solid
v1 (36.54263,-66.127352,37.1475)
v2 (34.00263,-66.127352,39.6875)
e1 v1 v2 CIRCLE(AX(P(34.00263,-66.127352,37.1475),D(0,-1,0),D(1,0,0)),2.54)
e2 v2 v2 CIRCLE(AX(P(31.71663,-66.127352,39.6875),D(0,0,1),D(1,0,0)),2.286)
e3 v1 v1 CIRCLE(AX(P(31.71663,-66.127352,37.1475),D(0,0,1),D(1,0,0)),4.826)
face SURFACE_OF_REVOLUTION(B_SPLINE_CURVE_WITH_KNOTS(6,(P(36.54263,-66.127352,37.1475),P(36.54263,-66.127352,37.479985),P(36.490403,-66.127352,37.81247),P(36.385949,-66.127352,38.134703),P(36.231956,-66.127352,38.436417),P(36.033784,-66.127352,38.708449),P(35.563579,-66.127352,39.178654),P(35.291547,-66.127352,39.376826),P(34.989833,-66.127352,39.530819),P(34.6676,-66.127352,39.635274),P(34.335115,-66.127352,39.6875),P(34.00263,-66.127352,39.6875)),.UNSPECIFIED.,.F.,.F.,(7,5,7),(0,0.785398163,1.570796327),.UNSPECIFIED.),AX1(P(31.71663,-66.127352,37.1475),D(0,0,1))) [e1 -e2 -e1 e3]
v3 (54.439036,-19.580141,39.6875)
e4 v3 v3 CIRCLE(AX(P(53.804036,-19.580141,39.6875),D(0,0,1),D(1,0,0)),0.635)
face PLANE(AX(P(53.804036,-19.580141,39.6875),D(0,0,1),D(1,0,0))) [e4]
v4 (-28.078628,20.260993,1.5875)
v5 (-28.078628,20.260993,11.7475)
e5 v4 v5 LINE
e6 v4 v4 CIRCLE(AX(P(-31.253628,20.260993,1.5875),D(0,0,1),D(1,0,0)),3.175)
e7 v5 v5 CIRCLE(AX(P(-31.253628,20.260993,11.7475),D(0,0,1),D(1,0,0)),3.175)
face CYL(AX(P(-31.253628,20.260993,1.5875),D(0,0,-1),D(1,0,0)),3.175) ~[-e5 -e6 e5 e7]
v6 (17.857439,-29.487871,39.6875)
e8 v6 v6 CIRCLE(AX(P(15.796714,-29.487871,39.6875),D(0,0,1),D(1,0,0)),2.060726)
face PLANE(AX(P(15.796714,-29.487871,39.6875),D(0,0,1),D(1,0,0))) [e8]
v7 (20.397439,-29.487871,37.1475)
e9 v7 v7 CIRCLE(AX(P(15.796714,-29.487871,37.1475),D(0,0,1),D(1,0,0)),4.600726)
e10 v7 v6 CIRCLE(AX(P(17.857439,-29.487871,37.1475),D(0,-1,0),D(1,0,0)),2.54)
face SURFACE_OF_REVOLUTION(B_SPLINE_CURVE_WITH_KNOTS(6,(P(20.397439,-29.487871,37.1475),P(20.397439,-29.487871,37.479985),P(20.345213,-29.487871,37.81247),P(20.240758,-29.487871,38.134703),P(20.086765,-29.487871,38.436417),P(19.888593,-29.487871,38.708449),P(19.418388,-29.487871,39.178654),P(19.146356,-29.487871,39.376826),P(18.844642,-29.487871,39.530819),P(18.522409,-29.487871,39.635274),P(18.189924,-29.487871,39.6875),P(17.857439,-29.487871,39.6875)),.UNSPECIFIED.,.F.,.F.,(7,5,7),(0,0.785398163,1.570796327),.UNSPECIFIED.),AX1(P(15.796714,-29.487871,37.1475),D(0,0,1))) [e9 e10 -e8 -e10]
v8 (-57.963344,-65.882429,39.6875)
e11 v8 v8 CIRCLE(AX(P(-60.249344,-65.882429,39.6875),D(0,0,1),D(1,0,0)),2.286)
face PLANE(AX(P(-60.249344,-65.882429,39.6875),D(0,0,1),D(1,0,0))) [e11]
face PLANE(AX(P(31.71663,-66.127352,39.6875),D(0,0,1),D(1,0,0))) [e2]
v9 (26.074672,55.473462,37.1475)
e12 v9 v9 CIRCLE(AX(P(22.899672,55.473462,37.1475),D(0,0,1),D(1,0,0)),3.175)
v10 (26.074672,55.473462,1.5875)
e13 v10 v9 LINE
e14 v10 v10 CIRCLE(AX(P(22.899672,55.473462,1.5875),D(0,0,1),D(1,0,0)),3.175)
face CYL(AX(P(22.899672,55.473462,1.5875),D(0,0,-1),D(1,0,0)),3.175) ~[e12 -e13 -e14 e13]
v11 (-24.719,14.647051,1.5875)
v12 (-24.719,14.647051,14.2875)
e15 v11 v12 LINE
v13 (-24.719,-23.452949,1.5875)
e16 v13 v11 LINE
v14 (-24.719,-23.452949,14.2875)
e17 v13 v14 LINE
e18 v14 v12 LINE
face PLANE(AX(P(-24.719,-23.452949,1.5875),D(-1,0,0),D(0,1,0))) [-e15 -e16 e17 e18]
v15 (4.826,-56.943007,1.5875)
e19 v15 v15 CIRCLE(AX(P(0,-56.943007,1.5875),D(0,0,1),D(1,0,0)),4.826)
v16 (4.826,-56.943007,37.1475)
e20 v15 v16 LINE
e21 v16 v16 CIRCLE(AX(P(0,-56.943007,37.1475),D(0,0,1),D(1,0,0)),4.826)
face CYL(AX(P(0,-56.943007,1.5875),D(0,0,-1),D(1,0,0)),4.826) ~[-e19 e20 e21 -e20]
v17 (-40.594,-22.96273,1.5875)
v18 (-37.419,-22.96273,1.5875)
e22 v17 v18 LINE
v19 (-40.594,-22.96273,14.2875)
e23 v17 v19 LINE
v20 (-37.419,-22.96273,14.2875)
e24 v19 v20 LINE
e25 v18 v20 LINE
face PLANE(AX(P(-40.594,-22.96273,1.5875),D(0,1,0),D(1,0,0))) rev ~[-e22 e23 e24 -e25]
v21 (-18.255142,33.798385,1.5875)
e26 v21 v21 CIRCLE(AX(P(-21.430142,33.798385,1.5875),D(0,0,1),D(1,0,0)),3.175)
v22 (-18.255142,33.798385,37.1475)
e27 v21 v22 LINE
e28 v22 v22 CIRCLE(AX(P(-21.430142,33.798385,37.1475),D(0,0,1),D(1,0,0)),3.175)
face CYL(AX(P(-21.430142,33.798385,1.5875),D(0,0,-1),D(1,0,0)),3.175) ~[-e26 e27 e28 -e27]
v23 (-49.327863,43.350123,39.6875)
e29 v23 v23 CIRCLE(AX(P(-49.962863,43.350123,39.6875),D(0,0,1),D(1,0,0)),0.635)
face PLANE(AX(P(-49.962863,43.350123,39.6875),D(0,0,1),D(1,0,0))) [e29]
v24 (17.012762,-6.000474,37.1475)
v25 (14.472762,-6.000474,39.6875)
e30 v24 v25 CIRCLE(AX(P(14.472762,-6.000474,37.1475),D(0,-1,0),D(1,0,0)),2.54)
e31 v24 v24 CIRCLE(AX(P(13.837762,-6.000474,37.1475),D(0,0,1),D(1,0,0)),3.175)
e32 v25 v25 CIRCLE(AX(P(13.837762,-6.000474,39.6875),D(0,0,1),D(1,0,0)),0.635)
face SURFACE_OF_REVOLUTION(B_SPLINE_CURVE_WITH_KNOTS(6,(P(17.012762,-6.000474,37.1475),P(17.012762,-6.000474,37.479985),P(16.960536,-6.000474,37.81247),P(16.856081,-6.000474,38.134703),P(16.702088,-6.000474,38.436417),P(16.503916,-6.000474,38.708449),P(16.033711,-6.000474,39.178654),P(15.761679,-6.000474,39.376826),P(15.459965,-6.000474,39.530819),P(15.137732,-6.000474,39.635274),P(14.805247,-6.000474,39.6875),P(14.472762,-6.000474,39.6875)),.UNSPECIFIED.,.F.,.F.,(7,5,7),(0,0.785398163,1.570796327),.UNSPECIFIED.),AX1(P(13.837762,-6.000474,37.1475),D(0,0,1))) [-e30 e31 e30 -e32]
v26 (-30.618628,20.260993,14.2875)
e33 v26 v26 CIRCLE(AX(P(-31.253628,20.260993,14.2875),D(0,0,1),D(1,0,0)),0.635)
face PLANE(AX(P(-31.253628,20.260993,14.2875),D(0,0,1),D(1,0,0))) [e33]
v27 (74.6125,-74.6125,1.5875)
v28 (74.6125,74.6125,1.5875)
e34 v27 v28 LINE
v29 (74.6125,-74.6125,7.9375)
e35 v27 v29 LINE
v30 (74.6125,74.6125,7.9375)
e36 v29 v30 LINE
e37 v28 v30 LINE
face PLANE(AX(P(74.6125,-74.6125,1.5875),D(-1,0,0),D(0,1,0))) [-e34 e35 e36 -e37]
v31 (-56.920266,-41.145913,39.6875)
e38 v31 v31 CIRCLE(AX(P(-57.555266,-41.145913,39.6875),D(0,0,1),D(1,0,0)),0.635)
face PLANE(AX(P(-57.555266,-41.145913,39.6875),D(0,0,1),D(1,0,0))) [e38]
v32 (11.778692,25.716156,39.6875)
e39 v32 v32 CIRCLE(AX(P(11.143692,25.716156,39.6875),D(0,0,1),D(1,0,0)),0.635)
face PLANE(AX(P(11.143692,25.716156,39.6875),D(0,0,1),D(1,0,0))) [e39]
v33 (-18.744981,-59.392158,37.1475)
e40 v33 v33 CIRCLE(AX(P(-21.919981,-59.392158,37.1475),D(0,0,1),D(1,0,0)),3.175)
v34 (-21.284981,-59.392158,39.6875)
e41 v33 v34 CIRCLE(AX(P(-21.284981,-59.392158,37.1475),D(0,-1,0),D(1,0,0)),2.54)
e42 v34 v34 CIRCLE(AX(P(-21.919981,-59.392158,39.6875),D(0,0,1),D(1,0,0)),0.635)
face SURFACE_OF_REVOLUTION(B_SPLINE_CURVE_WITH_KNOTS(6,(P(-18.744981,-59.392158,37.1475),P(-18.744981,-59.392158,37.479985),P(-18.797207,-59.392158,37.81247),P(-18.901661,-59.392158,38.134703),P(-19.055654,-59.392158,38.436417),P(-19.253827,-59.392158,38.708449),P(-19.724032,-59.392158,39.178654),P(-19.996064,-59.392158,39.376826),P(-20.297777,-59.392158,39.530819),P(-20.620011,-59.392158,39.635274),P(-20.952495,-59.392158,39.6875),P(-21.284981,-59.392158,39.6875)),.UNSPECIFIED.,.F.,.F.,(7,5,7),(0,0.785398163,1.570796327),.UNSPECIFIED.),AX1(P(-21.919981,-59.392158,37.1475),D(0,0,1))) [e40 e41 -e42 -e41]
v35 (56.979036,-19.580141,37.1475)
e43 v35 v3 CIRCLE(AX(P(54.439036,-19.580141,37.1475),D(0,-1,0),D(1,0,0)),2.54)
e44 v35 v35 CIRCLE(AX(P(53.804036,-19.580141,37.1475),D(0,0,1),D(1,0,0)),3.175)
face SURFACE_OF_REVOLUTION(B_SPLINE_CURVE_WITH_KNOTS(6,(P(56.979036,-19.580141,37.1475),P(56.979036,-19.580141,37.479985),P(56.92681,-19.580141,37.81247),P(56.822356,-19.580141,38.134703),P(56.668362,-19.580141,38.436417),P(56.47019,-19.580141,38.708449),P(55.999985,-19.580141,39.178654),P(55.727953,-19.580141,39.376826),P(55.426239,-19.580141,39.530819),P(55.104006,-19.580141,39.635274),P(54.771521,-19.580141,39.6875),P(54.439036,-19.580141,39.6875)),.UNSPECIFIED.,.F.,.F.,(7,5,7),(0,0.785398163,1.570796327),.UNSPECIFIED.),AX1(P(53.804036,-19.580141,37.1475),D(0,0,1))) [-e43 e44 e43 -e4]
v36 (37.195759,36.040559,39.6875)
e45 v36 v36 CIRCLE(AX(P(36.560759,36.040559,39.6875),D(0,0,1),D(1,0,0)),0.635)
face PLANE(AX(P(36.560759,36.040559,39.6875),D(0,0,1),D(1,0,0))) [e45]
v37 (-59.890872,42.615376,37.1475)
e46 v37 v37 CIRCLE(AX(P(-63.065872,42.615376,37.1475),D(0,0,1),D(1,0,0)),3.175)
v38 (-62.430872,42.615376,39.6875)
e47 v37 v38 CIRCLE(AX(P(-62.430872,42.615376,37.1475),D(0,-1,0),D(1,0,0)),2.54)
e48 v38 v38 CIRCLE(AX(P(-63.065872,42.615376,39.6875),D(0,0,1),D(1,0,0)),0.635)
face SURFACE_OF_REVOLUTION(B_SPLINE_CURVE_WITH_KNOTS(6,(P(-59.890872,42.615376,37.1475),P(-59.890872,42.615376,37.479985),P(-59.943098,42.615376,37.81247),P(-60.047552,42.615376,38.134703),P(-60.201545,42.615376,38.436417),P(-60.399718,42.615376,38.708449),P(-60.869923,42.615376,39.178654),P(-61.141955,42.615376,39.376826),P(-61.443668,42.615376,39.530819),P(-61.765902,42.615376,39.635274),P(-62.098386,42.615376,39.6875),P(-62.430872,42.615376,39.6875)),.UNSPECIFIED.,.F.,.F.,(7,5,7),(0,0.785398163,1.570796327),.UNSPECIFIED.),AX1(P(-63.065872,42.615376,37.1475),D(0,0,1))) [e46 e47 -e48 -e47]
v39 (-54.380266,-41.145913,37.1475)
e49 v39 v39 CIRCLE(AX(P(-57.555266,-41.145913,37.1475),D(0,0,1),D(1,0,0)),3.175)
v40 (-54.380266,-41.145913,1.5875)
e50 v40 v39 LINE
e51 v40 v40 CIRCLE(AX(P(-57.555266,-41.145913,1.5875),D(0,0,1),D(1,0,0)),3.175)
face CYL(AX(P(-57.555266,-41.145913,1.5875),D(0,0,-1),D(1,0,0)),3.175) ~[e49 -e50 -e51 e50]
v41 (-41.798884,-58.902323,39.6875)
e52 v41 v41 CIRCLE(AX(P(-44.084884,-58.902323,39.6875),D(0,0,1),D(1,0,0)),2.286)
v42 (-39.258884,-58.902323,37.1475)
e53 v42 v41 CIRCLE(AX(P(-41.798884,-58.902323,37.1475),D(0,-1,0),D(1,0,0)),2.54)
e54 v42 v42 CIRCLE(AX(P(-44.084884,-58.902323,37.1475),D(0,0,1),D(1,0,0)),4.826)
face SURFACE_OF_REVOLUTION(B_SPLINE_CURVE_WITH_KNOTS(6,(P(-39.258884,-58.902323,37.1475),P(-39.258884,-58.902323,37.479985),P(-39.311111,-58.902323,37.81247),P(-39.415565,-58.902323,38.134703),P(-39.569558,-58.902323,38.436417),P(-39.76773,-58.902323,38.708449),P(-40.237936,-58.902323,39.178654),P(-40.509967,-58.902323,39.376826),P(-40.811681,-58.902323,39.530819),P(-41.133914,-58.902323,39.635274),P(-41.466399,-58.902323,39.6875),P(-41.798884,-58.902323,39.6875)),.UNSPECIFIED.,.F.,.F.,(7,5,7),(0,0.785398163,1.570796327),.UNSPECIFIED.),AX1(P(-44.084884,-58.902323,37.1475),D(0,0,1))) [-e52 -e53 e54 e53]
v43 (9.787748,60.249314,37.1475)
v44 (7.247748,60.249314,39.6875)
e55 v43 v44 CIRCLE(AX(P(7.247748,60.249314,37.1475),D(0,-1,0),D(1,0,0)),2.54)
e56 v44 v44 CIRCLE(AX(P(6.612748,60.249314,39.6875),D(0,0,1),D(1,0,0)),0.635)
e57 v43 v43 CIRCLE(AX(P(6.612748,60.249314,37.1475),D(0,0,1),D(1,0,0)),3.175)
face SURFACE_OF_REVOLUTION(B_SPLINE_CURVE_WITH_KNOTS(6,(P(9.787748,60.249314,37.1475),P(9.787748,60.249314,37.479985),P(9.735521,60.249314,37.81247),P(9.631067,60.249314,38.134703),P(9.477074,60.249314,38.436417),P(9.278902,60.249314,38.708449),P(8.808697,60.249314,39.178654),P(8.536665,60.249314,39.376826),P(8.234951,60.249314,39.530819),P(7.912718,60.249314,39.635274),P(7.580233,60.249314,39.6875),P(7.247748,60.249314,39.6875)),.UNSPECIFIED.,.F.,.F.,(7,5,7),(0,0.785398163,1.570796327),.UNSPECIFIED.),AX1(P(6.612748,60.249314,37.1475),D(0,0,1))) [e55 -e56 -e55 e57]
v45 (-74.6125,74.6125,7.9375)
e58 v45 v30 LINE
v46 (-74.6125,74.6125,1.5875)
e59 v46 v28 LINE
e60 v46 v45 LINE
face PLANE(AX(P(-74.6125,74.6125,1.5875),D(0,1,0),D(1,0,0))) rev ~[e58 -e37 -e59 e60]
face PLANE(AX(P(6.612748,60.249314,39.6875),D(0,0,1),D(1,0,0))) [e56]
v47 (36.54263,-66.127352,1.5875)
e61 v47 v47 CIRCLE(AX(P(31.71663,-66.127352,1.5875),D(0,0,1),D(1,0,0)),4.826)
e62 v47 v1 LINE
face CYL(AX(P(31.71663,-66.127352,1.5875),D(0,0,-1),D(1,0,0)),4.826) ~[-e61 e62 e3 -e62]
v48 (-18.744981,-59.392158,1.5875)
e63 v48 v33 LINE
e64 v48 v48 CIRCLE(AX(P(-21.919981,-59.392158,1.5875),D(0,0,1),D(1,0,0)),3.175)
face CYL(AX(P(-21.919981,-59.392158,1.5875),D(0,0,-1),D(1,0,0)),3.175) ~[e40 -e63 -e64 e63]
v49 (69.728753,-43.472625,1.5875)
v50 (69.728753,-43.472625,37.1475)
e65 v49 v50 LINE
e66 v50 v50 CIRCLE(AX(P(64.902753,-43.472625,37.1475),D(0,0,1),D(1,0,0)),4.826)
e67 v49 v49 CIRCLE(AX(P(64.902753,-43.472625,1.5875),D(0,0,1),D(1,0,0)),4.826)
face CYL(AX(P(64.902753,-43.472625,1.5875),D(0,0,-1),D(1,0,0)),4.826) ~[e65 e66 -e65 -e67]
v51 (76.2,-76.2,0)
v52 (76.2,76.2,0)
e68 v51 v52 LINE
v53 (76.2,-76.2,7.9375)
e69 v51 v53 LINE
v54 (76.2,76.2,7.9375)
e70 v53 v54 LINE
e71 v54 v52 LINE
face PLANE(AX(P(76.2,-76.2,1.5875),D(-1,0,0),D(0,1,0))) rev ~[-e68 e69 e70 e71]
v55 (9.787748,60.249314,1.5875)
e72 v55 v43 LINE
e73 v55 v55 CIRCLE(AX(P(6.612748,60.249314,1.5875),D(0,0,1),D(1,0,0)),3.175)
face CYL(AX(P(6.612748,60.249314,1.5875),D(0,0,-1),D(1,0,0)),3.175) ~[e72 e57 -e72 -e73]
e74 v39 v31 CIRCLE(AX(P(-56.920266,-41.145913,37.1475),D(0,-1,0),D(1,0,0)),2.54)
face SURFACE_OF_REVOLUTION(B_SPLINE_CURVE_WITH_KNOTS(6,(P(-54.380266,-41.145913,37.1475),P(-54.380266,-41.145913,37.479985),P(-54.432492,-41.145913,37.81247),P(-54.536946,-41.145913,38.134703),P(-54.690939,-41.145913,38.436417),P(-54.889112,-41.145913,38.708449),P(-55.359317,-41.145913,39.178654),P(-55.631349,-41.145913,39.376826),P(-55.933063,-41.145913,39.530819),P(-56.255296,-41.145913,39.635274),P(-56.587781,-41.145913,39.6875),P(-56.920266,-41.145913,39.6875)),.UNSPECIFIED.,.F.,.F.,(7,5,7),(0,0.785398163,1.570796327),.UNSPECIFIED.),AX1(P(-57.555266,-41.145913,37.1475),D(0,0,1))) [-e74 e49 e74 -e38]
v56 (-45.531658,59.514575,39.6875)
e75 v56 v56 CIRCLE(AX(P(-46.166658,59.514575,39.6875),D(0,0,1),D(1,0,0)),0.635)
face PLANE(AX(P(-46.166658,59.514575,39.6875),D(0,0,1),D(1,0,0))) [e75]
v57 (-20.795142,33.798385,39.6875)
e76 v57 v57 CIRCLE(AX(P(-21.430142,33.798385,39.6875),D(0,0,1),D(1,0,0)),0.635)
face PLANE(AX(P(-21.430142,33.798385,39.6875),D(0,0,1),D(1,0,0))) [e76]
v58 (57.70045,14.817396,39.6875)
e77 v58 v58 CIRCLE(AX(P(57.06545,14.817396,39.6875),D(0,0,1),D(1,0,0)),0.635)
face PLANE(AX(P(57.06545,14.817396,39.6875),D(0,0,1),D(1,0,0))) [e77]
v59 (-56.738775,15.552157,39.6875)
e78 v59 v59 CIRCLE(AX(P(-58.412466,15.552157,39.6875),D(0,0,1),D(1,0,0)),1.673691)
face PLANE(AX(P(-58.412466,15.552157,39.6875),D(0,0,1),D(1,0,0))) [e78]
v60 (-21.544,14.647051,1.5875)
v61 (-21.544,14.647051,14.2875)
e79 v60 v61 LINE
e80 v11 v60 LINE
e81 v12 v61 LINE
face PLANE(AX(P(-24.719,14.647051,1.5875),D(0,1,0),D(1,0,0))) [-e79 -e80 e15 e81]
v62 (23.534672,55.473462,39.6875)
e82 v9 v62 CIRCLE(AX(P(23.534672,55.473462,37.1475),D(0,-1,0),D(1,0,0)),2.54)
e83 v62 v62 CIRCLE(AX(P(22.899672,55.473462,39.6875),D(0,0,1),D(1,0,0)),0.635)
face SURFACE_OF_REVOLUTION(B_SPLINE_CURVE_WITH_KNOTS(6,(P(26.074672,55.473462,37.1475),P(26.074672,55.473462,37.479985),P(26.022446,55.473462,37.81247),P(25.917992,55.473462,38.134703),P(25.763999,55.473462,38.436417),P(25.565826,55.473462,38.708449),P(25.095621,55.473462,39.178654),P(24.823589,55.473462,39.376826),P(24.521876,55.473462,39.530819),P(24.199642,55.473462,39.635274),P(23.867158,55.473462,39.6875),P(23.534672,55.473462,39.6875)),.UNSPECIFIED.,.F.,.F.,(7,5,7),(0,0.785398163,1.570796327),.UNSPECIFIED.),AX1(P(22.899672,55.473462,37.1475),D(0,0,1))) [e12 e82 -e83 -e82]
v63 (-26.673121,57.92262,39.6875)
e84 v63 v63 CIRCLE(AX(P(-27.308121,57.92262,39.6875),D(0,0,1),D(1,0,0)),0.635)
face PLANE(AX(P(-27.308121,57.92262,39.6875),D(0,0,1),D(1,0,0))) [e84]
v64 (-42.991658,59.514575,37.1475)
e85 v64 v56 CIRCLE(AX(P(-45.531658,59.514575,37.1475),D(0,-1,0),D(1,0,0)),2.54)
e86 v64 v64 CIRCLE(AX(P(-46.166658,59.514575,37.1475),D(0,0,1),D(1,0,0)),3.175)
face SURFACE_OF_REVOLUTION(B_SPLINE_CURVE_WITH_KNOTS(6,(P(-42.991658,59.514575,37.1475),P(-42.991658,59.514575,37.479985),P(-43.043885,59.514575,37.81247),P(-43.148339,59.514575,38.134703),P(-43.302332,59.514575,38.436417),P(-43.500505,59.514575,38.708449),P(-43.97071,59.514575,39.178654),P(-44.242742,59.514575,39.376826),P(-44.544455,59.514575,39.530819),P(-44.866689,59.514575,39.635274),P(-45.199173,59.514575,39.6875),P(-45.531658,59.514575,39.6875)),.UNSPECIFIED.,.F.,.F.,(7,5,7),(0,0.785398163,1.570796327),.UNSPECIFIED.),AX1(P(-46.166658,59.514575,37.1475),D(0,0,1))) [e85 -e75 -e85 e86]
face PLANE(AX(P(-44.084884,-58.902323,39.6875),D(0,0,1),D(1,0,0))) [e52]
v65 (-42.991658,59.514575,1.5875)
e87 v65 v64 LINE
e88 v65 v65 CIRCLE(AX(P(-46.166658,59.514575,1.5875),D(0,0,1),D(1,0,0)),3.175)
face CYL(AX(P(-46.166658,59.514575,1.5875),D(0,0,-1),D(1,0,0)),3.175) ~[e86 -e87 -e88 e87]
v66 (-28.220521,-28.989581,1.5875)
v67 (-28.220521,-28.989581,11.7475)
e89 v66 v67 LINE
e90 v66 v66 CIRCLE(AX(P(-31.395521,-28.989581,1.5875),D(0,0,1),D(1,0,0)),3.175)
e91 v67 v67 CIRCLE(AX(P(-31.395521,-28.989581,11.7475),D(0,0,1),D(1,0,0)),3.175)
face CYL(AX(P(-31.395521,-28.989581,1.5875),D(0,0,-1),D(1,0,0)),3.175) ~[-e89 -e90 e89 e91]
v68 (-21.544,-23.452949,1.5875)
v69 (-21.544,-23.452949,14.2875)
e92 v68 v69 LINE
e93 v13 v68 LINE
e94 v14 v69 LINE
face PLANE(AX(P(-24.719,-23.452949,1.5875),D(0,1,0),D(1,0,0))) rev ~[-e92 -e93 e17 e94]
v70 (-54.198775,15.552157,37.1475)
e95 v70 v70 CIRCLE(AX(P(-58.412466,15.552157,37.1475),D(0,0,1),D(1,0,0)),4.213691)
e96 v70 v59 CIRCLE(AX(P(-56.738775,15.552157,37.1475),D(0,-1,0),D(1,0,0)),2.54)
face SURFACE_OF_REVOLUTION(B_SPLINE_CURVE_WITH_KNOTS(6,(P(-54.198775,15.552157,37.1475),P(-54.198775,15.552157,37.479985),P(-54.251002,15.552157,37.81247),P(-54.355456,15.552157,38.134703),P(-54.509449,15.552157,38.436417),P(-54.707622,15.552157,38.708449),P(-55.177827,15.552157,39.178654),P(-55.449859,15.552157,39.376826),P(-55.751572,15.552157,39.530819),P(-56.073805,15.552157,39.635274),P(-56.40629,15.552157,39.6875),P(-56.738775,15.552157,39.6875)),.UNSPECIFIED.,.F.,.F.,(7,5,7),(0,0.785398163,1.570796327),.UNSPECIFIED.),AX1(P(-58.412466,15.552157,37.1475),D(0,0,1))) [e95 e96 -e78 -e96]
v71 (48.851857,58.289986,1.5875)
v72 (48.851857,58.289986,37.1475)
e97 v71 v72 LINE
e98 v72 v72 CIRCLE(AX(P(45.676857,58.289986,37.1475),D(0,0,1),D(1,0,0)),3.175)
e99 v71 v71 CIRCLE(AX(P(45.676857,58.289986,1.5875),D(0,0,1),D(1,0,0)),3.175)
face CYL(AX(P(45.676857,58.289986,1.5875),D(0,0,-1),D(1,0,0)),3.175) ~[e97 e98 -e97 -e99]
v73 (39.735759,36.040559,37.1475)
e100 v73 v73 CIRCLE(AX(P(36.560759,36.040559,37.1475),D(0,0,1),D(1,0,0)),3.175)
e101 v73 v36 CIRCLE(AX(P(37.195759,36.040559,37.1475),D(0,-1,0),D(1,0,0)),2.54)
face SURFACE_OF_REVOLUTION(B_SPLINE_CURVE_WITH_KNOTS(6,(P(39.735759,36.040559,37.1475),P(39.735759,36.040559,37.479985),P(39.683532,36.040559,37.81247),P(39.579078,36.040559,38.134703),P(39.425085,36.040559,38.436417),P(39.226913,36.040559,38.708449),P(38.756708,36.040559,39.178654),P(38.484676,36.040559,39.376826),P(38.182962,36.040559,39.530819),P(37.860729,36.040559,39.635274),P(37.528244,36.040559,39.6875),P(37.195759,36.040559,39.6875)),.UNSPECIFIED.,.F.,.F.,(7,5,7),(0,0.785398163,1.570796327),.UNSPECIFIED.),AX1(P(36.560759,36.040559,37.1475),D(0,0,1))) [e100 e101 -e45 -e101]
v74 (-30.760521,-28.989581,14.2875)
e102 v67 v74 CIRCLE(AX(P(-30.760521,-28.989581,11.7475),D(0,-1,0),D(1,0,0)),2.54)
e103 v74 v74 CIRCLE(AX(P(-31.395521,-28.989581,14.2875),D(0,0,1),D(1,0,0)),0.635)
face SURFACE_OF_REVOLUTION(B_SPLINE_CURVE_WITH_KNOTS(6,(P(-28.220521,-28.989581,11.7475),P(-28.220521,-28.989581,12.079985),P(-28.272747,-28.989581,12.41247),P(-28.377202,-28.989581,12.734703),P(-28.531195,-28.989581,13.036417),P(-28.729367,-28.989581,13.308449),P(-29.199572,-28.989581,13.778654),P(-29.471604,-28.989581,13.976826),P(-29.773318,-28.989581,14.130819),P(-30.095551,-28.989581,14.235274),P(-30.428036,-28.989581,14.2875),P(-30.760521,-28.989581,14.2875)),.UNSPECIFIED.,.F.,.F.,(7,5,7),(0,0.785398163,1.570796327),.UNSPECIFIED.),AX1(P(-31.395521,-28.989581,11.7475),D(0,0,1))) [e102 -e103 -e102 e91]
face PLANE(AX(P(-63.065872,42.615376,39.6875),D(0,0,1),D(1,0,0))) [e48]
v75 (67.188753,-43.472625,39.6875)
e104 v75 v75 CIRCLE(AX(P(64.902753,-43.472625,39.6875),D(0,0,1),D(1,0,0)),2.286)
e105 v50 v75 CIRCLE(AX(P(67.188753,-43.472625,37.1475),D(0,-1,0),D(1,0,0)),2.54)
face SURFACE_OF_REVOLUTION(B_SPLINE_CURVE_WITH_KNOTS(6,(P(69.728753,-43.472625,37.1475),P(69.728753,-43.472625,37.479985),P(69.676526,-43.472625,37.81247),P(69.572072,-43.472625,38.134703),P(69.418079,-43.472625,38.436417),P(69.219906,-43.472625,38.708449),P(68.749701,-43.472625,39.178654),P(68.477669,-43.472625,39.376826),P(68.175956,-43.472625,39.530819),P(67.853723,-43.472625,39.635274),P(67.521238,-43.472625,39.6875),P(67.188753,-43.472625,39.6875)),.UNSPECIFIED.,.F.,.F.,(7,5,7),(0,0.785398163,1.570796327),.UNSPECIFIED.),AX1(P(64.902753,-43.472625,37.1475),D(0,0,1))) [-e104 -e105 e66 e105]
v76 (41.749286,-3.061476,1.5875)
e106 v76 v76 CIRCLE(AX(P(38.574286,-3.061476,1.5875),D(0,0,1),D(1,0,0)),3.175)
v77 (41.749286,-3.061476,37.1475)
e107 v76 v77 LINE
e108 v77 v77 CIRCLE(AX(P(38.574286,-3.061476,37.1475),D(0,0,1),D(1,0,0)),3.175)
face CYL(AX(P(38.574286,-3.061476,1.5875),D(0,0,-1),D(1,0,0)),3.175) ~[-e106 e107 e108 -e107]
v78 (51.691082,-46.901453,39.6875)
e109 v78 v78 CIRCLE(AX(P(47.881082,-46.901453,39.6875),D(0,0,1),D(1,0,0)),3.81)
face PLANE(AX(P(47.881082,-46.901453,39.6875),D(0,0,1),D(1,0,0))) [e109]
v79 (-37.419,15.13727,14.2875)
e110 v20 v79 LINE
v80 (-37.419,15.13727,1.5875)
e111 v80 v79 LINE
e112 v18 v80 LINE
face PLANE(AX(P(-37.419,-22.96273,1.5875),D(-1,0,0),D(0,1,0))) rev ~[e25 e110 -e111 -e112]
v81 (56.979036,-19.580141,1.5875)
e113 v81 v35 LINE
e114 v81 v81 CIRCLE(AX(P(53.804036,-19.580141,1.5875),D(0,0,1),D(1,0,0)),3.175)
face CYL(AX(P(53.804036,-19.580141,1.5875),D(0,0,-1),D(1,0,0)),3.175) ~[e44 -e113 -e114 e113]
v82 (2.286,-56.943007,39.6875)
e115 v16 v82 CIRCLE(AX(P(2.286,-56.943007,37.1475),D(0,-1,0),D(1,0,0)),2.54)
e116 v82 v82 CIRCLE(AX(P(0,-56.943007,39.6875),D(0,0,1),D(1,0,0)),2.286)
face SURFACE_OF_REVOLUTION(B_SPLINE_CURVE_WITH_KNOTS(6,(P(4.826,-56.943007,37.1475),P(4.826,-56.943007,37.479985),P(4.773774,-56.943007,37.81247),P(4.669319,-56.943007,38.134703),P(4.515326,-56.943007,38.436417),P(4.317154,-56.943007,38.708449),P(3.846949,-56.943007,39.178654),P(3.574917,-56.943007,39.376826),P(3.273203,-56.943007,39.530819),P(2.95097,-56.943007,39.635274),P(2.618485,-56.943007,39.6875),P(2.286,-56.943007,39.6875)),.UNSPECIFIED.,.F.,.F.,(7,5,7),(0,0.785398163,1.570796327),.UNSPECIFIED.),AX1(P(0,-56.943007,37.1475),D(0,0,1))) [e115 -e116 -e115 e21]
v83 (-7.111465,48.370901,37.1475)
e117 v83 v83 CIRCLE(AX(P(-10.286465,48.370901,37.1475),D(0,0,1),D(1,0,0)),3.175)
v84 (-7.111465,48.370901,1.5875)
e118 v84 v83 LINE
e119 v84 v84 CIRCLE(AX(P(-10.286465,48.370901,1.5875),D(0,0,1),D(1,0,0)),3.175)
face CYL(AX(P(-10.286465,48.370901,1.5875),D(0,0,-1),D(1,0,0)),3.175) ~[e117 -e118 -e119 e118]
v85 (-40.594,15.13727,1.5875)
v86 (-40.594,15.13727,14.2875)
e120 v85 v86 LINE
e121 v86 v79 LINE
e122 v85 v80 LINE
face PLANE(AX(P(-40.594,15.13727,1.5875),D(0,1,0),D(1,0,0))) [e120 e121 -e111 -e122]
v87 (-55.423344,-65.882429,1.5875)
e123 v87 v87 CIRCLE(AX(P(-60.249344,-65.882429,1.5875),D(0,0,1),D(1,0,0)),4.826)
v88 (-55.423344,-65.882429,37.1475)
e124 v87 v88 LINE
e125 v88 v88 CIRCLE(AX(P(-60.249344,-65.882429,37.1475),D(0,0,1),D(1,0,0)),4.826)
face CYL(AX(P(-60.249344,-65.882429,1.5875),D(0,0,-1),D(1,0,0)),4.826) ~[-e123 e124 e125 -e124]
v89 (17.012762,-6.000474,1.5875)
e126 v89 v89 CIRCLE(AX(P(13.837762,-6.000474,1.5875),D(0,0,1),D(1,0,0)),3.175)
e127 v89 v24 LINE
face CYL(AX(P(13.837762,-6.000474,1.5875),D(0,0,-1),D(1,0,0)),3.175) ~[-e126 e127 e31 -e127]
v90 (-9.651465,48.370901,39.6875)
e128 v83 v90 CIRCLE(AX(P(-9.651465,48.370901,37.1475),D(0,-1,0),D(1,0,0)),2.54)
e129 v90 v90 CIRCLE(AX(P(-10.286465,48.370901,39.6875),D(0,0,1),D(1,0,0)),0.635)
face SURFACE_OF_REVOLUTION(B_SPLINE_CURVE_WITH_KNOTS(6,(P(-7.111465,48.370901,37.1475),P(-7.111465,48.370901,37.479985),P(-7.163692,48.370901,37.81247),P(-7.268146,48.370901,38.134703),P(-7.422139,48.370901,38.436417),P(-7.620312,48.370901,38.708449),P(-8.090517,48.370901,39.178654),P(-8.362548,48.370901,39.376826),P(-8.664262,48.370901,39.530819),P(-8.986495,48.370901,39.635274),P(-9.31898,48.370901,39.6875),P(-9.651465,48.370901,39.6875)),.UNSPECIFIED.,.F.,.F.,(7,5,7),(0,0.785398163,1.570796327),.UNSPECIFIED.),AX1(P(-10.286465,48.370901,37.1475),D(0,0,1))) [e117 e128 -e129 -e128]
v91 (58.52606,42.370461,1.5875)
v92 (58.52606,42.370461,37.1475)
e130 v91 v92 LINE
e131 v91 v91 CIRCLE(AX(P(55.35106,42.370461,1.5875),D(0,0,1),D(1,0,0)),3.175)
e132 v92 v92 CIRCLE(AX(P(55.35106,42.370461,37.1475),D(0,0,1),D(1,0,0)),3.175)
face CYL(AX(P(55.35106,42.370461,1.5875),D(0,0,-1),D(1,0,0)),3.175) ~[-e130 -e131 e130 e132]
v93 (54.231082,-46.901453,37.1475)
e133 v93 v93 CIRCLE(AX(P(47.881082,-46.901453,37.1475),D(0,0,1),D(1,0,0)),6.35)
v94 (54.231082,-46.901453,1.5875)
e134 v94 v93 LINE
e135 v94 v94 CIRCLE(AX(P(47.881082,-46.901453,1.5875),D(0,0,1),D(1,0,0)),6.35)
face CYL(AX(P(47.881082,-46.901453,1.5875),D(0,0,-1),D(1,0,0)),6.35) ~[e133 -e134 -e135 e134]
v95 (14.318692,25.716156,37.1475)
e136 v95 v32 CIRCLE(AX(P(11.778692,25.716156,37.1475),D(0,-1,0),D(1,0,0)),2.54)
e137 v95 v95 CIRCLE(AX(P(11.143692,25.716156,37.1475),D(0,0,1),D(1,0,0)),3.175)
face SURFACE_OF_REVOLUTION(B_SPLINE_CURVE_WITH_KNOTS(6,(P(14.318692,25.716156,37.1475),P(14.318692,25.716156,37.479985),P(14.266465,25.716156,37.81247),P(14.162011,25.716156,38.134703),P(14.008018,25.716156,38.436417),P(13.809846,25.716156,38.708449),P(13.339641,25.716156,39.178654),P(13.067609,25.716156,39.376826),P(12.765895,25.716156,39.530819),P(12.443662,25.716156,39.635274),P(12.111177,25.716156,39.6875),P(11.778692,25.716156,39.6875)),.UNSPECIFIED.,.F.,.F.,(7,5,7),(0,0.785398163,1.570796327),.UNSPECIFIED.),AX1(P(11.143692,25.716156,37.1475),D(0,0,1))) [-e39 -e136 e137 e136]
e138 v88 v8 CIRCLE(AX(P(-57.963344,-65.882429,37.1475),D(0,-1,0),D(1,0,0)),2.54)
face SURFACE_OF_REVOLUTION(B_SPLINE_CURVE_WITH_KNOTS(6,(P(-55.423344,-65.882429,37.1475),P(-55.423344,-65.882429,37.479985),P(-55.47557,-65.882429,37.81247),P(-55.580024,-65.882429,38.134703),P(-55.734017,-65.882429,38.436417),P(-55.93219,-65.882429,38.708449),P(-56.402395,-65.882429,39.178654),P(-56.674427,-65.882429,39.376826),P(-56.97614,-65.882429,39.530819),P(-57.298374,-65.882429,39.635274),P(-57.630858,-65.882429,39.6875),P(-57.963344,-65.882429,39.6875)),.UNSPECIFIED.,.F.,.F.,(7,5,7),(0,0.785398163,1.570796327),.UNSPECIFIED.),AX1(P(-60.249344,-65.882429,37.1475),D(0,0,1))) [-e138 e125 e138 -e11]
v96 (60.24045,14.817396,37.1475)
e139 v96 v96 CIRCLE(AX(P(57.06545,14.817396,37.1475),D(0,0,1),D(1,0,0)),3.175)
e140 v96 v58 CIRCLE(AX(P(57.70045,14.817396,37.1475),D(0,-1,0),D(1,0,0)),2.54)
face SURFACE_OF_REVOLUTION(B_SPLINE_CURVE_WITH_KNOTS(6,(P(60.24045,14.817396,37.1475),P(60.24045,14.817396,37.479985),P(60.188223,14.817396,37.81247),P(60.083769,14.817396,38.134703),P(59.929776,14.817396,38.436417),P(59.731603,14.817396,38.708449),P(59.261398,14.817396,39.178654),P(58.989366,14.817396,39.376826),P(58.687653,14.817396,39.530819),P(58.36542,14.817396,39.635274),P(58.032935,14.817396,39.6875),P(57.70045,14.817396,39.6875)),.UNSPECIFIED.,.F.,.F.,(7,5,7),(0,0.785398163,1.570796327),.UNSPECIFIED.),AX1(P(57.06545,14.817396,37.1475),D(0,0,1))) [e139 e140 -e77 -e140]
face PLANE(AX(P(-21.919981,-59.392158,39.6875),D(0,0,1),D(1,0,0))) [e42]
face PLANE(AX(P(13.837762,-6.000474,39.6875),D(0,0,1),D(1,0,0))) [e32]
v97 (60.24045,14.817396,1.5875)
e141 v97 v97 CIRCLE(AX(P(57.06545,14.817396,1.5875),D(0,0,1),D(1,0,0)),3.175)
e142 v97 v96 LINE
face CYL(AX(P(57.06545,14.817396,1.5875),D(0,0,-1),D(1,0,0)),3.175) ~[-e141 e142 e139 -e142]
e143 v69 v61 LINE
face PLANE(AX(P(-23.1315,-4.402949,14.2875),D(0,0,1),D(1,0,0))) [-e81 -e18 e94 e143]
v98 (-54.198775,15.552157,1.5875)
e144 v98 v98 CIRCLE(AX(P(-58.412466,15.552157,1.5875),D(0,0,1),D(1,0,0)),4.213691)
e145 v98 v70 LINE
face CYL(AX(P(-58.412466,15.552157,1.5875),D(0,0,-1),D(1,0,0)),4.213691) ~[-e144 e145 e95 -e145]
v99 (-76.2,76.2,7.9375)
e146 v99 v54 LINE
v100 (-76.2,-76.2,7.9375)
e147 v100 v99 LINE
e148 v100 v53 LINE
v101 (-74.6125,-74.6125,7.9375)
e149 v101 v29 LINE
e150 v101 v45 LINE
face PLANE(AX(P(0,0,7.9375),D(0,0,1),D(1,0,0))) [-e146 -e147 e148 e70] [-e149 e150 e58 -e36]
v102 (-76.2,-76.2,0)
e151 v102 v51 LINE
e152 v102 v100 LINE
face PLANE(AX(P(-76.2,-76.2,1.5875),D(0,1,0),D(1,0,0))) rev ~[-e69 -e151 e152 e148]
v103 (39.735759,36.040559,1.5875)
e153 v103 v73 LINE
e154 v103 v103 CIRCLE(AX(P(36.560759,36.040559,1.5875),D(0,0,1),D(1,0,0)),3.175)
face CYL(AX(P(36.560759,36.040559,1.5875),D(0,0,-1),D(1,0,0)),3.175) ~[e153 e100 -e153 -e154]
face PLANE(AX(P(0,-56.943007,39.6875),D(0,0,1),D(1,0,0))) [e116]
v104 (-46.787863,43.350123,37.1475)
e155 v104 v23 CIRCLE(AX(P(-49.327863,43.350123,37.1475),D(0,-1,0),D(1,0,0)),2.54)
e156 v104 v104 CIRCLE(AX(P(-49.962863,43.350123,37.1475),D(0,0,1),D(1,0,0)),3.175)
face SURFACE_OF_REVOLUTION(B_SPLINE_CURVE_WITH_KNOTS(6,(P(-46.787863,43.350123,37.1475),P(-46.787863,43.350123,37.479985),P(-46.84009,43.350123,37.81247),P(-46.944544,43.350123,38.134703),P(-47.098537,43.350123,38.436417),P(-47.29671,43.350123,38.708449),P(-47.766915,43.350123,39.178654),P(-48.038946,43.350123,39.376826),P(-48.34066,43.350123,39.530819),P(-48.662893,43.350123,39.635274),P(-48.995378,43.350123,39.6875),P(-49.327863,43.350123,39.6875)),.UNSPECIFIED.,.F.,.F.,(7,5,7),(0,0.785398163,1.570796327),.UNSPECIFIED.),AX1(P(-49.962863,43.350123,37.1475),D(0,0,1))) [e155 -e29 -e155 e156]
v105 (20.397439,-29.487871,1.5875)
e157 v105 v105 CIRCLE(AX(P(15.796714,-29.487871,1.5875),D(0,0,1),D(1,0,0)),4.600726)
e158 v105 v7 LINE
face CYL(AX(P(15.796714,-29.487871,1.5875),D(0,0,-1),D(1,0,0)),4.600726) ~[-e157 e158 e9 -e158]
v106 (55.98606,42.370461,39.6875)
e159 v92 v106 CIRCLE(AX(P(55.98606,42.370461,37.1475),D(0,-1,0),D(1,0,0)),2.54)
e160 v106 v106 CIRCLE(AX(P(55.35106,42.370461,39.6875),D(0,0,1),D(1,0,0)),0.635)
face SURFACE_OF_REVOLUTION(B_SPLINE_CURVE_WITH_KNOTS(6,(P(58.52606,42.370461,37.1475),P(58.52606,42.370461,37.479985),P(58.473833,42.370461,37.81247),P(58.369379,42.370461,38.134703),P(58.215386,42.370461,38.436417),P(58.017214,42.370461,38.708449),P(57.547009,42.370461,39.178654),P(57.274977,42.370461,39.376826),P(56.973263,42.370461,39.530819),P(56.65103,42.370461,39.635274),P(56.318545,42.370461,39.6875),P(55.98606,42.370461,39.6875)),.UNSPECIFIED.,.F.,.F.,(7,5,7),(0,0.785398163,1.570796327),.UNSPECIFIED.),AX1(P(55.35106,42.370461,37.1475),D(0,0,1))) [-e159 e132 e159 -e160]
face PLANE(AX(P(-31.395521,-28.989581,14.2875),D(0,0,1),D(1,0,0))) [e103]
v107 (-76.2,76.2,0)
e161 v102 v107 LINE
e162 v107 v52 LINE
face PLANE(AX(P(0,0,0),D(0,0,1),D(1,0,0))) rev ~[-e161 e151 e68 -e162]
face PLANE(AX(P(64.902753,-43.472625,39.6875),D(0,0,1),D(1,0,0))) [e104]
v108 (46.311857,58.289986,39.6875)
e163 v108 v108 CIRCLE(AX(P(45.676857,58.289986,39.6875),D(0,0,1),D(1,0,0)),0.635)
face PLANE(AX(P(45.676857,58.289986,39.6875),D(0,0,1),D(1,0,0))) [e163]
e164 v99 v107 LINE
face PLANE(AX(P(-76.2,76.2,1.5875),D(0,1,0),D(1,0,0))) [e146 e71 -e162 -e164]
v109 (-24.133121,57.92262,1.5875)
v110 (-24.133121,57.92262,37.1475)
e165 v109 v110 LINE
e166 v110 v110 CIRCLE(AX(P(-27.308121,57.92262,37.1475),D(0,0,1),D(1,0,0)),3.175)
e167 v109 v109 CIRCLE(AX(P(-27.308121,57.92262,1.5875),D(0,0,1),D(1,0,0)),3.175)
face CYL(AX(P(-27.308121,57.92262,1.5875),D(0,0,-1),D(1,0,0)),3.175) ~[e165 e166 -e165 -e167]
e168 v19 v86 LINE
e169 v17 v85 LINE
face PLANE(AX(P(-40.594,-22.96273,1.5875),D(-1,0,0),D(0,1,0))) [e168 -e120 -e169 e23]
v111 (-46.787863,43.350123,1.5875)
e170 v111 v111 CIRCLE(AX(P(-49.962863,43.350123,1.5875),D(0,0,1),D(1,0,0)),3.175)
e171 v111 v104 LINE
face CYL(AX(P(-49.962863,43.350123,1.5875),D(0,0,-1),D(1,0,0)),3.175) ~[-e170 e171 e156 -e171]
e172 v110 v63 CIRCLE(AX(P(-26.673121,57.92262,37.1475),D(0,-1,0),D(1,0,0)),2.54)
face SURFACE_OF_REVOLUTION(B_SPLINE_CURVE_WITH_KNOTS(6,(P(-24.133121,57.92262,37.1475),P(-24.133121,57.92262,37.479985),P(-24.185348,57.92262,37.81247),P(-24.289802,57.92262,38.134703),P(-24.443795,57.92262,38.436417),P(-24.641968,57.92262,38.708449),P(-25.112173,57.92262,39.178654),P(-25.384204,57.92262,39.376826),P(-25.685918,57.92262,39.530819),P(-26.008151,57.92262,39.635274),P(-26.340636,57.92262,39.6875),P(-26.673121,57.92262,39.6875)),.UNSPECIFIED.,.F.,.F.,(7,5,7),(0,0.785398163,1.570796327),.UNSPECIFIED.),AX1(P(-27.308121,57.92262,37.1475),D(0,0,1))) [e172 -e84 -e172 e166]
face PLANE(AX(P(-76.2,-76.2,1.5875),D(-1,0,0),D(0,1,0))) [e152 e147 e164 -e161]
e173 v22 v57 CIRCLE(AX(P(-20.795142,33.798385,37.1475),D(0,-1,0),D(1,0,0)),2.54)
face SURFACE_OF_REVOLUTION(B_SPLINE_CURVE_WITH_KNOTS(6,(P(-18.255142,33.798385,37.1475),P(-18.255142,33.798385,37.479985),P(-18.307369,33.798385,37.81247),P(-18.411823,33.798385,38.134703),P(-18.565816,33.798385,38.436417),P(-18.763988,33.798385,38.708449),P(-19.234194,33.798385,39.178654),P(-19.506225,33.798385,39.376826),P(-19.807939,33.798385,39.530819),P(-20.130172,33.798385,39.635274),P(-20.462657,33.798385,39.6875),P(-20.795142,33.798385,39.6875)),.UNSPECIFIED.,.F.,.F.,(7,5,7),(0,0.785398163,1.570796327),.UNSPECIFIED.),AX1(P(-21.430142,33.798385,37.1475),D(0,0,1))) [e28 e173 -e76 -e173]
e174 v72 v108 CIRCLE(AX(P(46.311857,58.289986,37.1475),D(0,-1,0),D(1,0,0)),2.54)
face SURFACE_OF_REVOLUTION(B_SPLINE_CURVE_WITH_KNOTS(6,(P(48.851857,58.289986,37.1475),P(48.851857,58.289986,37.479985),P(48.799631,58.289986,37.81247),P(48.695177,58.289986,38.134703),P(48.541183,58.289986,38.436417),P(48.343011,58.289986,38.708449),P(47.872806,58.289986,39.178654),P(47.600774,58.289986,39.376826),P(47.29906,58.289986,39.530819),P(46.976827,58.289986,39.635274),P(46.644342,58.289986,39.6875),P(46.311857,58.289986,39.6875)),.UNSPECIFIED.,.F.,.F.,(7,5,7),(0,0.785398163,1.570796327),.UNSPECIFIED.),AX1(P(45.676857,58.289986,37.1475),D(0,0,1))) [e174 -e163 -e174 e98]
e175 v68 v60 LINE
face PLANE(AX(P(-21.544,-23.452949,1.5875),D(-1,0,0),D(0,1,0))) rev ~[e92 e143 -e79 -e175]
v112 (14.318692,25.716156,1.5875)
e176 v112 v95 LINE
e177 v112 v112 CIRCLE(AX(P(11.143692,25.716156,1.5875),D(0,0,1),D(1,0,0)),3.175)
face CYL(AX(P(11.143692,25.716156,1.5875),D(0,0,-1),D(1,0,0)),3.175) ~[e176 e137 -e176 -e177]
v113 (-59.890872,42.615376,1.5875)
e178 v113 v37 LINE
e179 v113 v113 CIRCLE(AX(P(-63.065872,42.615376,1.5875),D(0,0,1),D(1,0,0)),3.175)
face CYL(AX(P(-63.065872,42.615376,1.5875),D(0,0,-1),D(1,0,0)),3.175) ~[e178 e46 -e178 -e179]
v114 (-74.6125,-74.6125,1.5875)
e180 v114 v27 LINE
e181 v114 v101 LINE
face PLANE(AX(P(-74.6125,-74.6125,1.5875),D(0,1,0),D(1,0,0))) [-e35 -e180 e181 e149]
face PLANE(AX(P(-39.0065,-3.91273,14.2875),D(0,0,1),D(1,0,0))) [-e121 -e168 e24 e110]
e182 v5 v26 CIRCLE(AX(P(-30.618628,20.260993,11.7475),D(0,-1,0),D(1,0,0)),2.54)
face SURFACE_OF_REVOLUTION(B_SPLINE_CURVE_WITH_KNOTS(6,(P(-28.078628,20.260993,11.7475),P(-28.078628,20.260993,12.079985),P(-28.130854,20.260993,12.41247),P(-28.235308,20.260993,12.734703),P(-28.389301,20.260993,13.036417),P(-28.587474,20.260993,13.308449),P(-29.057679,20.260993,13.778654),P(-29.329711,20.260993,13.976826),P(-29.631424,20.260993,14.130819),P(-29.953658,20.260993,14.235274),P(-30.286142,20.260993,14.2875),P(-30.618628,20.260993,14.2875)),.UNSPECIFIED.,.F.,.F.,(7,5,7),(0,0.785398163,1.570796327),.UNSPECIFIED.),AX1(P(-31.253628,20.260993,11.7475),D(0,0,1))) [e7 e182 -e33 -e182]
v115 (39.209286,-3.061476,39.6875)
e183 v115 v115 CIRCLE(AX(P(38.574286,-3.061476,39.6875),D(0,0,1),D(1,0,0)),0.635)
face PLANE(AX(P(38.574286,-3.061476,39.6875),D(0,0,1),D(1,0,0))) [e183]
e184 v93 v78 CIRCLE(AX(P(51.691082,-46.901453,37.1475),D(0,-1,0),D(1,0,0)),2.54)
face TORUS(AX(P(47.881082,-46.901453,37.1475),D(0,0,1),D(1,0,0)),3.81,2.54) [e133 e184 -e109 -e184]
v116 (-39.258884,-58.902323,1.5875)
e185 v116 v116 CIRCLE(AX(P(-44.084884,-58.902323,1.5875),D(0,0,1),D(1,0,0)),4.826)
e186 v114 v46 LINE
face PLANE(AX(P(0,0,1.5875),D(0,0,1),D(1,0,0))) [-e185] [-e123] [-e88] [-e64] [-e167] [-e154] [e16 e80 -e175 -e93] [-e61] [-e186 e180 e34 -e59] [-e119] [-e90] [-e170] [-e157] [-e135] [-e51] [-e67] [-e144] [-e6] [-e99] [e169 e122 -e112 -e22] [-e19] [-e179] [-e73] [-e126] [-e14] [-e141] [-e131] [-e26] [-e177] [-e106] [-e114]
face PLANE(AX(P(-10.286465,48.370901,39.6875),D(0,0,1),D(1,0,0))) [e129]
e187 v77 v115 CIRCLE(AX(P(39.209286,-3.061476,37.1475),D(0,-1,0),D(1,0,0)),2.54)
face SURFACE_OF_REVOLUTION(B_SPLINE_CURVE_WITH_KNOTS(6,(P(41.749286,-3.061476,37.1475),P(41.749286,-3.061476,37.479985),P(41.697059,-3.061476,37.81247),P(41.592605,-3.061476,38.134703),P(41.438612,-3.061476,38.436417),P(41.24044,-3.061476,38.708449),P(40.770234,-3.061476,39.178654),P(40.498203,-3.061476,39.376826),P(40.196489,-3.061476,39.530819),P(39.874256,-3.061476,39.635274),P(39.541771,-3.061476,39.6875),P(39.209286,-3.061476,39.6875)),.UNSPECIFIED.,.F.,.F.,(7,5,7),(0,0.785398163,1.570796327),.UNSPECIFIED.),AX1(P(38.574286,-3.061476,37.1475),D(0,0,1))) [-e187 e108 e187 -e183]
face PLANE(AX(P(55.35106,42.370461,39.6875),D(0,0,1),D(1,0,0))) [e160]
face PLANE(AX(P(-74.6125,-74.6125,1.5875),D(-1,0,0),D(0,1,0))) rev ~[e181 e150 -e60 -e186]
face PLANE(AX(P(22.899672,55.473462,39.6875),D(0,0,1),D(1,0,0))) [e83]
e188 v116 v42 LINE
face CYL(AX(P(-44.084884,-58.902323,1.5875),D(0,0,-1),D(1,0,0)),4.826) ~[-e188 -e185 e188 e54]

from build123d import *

# Parameters (mm, degrees)
F0_W     = 152.4
F0_H     = 152.4
F1_DEPTH = 1.5875
F2_W     = 152.4
F2_H     = 152.4
F2_W_2   = 149.225
F2_H_2   = 149.225
F3_DEPTH = 6.35
F2_R     = 3.175
F2_W_3   = 3.175
F2_H_3   = 38.1
F4_DEPTH = 12.7
F2_R_2   = 4.6007255352
F2_R_3   = 4.2136908579
F2_R_4   = 4.826
F2_R_5   = 6.35
F5_DEPTH = 38.1
F6_R     = 2.54


with BuildPart() as f1:
    # F0 (on Top) → F1 (new body)
    with BuildSketch(Plane.XY):
        Rectangle(F0_W, F0_H)
    extrude(amount=F1_DEPTH)

    # F2 (on face) → F3 (join)
    with BuildSketch(Plane.XY.offset(1.5875)):
        Rectangle(F2_W, F2_H)
        Rectangle(F2_W_2, F2_H_2, mode=Mode.SUBTRACT)
    extrude(amount=F3_DEPTH)

    # F2 (on face) → F4 (join)
    with BuildSketch(Plane.XY.offset(1.5875)):
        with Locations((-31.3955209687, -28.9895810837)):
            Circle(F2_R)
        with Locations((-31.2536275014, 20.2609933913)):
            Circle(F2_R)
        with Locations((-23.1315003693, -4.4029487789)):
            Rectangle(F2_W_3, F2_H_3)
        with Locations((-39.0065003693, -3.9127303779)):
            Rectangle(F2_W_3, F2_H_3)
    extrude(amount=F4_DEPTH)

    # F2 (on face) → F5 (join)
    with BuildSketch(Plane.XY.offset(1.5875)):
        with Locations((15.796713531, -29.4878706336)):
            Circle(F2_R_2)
        with Locations((53.8040362298, -19.5801407099)):
            Circle(F2_R)
        with Locations((36.5607589483, 36.040559411)):
            Circle(F2_R)
        with Locations((55.3510598838, 42.3704609275)):
            Circle(F2_R)
        with Locations((45.676857233, 58.2899861038)):
            Circle(F2_R)
        with Locations((22.899672389, 55.4734617472)):
            Circle(F2_R)
        with Locations((6.6127479076, 60.2493137121)):
            Circle(F2_R)
        with Locations((-10.2864652872, 48.3709014952)):
            Circle(F2_R)
        with Locations((-27.3081213236, 57.9226203263)):
            Circle(F2_R)
        with Locations((-46.1666584015, 59.5145747066)):
            Circle(F2_R)
        with Locations((-49.9628633261, 43.350122869)):
            Circle(F2_R)
        with Locations((-63.0658715963, 42.6153764129)):
            Circle(F2_R)
        with Locations((-58.4124661982, 15.5521566048)):
            Circle(F2_R_3)
        with Locations((-57.5552657247, -41.1459133029)):
            Circle(F2_R)
        with Locations((-44.0848842263, -58.902323246)):
            Circle(F2_R_4)
        with Locations((0, -56.9430068135)):
            Circle(F2_R_4)
        with Locations((31.7166298628, -66.1273524165)):
            Circle(F2_R_4)
        with Locations((47.8810817003, -46.9014532864)):
            Circle(F2_R_5)
        with Locations((64.9027526379, -43.4726253152)):
            Circle(F2_R_4)
        with Locations((11.1436918378, 25.7161557674)):
            Circle(F2_R)
        with Locations((-21.4301422238, 33.7983854115)):
            Circle(F2_R)
        with Locations((38.5742858052, -3.0614763964)):
            Circle(F2_R)
        with Locations((13.837762177, -6.0004740953)):
            Circle(F2_R)
        with Locations((57.0654496551, 14.8173961788)):
            Circle(F2_R)
        with Locations((-60.2493435144, -65.8824294806)):
            Circle(F2_R_4)
        with Locations((-21.9199806452, -59.3921579421)):
            Circle(F2_R)
    extrude(amount=F5_DEPTH)

    # F6
    f6_edges = [f1.edges().sort_by_distance(p)[0] for p in [
        (42.501857, 58.289986, 39.6875),
        (33.385759, 36.040559, 39.6875),
        (19.724672, 55.473462, 39.6875),
        (3.437748, 60.249314, 39.6875),
        (52.17606, 42.370461, 39.6875),
        (53.89045, 14.817396, 39.6875),
        (7.968692, 25.716156, 39.6875),
        (-13.461465, 48.370901, 39.6875),
        (-30.483121, 57.92262, 39.6875),
        (-49.341658, 59.514575, 39.6875),
        (-53.137863, 43.350123, 39.6875),
        (50.629036, -19.580141, 39.6875),
        (60.076753, -43.472625, 39.6875),
        (41.531082, -46.901453, 39.6875),
        (11.195988, -29.487871, 39.6875),
        (10.662762, -6.000474, 39.6875),
        (35.399286, -3.061476, 39.6875),
        (-24.605142, 33.798385, 39.6875),
        (-62.626157, 15.552157, 39.6875),
        (-66.240872, 42.615376, 39.6875),
        (-34.428628, 20.260993, 14.2875),
        (-34.570521, -28.989581, 14.2875),
        (-4.826, -56.943007, 39.6875),
        (26.89063, -66.127352, 39.6875),
        (-25.094981, -59.392158, 39.6875),
        (-48.910884, -58.902323, 39.6875),
        (-60.730266, -41.145913, 39.6875),
        (-65.075344, -65.882429, 39.6875),
    ]]
    fillet(f6_edges, radius=F6_R)


solid = f1.part
